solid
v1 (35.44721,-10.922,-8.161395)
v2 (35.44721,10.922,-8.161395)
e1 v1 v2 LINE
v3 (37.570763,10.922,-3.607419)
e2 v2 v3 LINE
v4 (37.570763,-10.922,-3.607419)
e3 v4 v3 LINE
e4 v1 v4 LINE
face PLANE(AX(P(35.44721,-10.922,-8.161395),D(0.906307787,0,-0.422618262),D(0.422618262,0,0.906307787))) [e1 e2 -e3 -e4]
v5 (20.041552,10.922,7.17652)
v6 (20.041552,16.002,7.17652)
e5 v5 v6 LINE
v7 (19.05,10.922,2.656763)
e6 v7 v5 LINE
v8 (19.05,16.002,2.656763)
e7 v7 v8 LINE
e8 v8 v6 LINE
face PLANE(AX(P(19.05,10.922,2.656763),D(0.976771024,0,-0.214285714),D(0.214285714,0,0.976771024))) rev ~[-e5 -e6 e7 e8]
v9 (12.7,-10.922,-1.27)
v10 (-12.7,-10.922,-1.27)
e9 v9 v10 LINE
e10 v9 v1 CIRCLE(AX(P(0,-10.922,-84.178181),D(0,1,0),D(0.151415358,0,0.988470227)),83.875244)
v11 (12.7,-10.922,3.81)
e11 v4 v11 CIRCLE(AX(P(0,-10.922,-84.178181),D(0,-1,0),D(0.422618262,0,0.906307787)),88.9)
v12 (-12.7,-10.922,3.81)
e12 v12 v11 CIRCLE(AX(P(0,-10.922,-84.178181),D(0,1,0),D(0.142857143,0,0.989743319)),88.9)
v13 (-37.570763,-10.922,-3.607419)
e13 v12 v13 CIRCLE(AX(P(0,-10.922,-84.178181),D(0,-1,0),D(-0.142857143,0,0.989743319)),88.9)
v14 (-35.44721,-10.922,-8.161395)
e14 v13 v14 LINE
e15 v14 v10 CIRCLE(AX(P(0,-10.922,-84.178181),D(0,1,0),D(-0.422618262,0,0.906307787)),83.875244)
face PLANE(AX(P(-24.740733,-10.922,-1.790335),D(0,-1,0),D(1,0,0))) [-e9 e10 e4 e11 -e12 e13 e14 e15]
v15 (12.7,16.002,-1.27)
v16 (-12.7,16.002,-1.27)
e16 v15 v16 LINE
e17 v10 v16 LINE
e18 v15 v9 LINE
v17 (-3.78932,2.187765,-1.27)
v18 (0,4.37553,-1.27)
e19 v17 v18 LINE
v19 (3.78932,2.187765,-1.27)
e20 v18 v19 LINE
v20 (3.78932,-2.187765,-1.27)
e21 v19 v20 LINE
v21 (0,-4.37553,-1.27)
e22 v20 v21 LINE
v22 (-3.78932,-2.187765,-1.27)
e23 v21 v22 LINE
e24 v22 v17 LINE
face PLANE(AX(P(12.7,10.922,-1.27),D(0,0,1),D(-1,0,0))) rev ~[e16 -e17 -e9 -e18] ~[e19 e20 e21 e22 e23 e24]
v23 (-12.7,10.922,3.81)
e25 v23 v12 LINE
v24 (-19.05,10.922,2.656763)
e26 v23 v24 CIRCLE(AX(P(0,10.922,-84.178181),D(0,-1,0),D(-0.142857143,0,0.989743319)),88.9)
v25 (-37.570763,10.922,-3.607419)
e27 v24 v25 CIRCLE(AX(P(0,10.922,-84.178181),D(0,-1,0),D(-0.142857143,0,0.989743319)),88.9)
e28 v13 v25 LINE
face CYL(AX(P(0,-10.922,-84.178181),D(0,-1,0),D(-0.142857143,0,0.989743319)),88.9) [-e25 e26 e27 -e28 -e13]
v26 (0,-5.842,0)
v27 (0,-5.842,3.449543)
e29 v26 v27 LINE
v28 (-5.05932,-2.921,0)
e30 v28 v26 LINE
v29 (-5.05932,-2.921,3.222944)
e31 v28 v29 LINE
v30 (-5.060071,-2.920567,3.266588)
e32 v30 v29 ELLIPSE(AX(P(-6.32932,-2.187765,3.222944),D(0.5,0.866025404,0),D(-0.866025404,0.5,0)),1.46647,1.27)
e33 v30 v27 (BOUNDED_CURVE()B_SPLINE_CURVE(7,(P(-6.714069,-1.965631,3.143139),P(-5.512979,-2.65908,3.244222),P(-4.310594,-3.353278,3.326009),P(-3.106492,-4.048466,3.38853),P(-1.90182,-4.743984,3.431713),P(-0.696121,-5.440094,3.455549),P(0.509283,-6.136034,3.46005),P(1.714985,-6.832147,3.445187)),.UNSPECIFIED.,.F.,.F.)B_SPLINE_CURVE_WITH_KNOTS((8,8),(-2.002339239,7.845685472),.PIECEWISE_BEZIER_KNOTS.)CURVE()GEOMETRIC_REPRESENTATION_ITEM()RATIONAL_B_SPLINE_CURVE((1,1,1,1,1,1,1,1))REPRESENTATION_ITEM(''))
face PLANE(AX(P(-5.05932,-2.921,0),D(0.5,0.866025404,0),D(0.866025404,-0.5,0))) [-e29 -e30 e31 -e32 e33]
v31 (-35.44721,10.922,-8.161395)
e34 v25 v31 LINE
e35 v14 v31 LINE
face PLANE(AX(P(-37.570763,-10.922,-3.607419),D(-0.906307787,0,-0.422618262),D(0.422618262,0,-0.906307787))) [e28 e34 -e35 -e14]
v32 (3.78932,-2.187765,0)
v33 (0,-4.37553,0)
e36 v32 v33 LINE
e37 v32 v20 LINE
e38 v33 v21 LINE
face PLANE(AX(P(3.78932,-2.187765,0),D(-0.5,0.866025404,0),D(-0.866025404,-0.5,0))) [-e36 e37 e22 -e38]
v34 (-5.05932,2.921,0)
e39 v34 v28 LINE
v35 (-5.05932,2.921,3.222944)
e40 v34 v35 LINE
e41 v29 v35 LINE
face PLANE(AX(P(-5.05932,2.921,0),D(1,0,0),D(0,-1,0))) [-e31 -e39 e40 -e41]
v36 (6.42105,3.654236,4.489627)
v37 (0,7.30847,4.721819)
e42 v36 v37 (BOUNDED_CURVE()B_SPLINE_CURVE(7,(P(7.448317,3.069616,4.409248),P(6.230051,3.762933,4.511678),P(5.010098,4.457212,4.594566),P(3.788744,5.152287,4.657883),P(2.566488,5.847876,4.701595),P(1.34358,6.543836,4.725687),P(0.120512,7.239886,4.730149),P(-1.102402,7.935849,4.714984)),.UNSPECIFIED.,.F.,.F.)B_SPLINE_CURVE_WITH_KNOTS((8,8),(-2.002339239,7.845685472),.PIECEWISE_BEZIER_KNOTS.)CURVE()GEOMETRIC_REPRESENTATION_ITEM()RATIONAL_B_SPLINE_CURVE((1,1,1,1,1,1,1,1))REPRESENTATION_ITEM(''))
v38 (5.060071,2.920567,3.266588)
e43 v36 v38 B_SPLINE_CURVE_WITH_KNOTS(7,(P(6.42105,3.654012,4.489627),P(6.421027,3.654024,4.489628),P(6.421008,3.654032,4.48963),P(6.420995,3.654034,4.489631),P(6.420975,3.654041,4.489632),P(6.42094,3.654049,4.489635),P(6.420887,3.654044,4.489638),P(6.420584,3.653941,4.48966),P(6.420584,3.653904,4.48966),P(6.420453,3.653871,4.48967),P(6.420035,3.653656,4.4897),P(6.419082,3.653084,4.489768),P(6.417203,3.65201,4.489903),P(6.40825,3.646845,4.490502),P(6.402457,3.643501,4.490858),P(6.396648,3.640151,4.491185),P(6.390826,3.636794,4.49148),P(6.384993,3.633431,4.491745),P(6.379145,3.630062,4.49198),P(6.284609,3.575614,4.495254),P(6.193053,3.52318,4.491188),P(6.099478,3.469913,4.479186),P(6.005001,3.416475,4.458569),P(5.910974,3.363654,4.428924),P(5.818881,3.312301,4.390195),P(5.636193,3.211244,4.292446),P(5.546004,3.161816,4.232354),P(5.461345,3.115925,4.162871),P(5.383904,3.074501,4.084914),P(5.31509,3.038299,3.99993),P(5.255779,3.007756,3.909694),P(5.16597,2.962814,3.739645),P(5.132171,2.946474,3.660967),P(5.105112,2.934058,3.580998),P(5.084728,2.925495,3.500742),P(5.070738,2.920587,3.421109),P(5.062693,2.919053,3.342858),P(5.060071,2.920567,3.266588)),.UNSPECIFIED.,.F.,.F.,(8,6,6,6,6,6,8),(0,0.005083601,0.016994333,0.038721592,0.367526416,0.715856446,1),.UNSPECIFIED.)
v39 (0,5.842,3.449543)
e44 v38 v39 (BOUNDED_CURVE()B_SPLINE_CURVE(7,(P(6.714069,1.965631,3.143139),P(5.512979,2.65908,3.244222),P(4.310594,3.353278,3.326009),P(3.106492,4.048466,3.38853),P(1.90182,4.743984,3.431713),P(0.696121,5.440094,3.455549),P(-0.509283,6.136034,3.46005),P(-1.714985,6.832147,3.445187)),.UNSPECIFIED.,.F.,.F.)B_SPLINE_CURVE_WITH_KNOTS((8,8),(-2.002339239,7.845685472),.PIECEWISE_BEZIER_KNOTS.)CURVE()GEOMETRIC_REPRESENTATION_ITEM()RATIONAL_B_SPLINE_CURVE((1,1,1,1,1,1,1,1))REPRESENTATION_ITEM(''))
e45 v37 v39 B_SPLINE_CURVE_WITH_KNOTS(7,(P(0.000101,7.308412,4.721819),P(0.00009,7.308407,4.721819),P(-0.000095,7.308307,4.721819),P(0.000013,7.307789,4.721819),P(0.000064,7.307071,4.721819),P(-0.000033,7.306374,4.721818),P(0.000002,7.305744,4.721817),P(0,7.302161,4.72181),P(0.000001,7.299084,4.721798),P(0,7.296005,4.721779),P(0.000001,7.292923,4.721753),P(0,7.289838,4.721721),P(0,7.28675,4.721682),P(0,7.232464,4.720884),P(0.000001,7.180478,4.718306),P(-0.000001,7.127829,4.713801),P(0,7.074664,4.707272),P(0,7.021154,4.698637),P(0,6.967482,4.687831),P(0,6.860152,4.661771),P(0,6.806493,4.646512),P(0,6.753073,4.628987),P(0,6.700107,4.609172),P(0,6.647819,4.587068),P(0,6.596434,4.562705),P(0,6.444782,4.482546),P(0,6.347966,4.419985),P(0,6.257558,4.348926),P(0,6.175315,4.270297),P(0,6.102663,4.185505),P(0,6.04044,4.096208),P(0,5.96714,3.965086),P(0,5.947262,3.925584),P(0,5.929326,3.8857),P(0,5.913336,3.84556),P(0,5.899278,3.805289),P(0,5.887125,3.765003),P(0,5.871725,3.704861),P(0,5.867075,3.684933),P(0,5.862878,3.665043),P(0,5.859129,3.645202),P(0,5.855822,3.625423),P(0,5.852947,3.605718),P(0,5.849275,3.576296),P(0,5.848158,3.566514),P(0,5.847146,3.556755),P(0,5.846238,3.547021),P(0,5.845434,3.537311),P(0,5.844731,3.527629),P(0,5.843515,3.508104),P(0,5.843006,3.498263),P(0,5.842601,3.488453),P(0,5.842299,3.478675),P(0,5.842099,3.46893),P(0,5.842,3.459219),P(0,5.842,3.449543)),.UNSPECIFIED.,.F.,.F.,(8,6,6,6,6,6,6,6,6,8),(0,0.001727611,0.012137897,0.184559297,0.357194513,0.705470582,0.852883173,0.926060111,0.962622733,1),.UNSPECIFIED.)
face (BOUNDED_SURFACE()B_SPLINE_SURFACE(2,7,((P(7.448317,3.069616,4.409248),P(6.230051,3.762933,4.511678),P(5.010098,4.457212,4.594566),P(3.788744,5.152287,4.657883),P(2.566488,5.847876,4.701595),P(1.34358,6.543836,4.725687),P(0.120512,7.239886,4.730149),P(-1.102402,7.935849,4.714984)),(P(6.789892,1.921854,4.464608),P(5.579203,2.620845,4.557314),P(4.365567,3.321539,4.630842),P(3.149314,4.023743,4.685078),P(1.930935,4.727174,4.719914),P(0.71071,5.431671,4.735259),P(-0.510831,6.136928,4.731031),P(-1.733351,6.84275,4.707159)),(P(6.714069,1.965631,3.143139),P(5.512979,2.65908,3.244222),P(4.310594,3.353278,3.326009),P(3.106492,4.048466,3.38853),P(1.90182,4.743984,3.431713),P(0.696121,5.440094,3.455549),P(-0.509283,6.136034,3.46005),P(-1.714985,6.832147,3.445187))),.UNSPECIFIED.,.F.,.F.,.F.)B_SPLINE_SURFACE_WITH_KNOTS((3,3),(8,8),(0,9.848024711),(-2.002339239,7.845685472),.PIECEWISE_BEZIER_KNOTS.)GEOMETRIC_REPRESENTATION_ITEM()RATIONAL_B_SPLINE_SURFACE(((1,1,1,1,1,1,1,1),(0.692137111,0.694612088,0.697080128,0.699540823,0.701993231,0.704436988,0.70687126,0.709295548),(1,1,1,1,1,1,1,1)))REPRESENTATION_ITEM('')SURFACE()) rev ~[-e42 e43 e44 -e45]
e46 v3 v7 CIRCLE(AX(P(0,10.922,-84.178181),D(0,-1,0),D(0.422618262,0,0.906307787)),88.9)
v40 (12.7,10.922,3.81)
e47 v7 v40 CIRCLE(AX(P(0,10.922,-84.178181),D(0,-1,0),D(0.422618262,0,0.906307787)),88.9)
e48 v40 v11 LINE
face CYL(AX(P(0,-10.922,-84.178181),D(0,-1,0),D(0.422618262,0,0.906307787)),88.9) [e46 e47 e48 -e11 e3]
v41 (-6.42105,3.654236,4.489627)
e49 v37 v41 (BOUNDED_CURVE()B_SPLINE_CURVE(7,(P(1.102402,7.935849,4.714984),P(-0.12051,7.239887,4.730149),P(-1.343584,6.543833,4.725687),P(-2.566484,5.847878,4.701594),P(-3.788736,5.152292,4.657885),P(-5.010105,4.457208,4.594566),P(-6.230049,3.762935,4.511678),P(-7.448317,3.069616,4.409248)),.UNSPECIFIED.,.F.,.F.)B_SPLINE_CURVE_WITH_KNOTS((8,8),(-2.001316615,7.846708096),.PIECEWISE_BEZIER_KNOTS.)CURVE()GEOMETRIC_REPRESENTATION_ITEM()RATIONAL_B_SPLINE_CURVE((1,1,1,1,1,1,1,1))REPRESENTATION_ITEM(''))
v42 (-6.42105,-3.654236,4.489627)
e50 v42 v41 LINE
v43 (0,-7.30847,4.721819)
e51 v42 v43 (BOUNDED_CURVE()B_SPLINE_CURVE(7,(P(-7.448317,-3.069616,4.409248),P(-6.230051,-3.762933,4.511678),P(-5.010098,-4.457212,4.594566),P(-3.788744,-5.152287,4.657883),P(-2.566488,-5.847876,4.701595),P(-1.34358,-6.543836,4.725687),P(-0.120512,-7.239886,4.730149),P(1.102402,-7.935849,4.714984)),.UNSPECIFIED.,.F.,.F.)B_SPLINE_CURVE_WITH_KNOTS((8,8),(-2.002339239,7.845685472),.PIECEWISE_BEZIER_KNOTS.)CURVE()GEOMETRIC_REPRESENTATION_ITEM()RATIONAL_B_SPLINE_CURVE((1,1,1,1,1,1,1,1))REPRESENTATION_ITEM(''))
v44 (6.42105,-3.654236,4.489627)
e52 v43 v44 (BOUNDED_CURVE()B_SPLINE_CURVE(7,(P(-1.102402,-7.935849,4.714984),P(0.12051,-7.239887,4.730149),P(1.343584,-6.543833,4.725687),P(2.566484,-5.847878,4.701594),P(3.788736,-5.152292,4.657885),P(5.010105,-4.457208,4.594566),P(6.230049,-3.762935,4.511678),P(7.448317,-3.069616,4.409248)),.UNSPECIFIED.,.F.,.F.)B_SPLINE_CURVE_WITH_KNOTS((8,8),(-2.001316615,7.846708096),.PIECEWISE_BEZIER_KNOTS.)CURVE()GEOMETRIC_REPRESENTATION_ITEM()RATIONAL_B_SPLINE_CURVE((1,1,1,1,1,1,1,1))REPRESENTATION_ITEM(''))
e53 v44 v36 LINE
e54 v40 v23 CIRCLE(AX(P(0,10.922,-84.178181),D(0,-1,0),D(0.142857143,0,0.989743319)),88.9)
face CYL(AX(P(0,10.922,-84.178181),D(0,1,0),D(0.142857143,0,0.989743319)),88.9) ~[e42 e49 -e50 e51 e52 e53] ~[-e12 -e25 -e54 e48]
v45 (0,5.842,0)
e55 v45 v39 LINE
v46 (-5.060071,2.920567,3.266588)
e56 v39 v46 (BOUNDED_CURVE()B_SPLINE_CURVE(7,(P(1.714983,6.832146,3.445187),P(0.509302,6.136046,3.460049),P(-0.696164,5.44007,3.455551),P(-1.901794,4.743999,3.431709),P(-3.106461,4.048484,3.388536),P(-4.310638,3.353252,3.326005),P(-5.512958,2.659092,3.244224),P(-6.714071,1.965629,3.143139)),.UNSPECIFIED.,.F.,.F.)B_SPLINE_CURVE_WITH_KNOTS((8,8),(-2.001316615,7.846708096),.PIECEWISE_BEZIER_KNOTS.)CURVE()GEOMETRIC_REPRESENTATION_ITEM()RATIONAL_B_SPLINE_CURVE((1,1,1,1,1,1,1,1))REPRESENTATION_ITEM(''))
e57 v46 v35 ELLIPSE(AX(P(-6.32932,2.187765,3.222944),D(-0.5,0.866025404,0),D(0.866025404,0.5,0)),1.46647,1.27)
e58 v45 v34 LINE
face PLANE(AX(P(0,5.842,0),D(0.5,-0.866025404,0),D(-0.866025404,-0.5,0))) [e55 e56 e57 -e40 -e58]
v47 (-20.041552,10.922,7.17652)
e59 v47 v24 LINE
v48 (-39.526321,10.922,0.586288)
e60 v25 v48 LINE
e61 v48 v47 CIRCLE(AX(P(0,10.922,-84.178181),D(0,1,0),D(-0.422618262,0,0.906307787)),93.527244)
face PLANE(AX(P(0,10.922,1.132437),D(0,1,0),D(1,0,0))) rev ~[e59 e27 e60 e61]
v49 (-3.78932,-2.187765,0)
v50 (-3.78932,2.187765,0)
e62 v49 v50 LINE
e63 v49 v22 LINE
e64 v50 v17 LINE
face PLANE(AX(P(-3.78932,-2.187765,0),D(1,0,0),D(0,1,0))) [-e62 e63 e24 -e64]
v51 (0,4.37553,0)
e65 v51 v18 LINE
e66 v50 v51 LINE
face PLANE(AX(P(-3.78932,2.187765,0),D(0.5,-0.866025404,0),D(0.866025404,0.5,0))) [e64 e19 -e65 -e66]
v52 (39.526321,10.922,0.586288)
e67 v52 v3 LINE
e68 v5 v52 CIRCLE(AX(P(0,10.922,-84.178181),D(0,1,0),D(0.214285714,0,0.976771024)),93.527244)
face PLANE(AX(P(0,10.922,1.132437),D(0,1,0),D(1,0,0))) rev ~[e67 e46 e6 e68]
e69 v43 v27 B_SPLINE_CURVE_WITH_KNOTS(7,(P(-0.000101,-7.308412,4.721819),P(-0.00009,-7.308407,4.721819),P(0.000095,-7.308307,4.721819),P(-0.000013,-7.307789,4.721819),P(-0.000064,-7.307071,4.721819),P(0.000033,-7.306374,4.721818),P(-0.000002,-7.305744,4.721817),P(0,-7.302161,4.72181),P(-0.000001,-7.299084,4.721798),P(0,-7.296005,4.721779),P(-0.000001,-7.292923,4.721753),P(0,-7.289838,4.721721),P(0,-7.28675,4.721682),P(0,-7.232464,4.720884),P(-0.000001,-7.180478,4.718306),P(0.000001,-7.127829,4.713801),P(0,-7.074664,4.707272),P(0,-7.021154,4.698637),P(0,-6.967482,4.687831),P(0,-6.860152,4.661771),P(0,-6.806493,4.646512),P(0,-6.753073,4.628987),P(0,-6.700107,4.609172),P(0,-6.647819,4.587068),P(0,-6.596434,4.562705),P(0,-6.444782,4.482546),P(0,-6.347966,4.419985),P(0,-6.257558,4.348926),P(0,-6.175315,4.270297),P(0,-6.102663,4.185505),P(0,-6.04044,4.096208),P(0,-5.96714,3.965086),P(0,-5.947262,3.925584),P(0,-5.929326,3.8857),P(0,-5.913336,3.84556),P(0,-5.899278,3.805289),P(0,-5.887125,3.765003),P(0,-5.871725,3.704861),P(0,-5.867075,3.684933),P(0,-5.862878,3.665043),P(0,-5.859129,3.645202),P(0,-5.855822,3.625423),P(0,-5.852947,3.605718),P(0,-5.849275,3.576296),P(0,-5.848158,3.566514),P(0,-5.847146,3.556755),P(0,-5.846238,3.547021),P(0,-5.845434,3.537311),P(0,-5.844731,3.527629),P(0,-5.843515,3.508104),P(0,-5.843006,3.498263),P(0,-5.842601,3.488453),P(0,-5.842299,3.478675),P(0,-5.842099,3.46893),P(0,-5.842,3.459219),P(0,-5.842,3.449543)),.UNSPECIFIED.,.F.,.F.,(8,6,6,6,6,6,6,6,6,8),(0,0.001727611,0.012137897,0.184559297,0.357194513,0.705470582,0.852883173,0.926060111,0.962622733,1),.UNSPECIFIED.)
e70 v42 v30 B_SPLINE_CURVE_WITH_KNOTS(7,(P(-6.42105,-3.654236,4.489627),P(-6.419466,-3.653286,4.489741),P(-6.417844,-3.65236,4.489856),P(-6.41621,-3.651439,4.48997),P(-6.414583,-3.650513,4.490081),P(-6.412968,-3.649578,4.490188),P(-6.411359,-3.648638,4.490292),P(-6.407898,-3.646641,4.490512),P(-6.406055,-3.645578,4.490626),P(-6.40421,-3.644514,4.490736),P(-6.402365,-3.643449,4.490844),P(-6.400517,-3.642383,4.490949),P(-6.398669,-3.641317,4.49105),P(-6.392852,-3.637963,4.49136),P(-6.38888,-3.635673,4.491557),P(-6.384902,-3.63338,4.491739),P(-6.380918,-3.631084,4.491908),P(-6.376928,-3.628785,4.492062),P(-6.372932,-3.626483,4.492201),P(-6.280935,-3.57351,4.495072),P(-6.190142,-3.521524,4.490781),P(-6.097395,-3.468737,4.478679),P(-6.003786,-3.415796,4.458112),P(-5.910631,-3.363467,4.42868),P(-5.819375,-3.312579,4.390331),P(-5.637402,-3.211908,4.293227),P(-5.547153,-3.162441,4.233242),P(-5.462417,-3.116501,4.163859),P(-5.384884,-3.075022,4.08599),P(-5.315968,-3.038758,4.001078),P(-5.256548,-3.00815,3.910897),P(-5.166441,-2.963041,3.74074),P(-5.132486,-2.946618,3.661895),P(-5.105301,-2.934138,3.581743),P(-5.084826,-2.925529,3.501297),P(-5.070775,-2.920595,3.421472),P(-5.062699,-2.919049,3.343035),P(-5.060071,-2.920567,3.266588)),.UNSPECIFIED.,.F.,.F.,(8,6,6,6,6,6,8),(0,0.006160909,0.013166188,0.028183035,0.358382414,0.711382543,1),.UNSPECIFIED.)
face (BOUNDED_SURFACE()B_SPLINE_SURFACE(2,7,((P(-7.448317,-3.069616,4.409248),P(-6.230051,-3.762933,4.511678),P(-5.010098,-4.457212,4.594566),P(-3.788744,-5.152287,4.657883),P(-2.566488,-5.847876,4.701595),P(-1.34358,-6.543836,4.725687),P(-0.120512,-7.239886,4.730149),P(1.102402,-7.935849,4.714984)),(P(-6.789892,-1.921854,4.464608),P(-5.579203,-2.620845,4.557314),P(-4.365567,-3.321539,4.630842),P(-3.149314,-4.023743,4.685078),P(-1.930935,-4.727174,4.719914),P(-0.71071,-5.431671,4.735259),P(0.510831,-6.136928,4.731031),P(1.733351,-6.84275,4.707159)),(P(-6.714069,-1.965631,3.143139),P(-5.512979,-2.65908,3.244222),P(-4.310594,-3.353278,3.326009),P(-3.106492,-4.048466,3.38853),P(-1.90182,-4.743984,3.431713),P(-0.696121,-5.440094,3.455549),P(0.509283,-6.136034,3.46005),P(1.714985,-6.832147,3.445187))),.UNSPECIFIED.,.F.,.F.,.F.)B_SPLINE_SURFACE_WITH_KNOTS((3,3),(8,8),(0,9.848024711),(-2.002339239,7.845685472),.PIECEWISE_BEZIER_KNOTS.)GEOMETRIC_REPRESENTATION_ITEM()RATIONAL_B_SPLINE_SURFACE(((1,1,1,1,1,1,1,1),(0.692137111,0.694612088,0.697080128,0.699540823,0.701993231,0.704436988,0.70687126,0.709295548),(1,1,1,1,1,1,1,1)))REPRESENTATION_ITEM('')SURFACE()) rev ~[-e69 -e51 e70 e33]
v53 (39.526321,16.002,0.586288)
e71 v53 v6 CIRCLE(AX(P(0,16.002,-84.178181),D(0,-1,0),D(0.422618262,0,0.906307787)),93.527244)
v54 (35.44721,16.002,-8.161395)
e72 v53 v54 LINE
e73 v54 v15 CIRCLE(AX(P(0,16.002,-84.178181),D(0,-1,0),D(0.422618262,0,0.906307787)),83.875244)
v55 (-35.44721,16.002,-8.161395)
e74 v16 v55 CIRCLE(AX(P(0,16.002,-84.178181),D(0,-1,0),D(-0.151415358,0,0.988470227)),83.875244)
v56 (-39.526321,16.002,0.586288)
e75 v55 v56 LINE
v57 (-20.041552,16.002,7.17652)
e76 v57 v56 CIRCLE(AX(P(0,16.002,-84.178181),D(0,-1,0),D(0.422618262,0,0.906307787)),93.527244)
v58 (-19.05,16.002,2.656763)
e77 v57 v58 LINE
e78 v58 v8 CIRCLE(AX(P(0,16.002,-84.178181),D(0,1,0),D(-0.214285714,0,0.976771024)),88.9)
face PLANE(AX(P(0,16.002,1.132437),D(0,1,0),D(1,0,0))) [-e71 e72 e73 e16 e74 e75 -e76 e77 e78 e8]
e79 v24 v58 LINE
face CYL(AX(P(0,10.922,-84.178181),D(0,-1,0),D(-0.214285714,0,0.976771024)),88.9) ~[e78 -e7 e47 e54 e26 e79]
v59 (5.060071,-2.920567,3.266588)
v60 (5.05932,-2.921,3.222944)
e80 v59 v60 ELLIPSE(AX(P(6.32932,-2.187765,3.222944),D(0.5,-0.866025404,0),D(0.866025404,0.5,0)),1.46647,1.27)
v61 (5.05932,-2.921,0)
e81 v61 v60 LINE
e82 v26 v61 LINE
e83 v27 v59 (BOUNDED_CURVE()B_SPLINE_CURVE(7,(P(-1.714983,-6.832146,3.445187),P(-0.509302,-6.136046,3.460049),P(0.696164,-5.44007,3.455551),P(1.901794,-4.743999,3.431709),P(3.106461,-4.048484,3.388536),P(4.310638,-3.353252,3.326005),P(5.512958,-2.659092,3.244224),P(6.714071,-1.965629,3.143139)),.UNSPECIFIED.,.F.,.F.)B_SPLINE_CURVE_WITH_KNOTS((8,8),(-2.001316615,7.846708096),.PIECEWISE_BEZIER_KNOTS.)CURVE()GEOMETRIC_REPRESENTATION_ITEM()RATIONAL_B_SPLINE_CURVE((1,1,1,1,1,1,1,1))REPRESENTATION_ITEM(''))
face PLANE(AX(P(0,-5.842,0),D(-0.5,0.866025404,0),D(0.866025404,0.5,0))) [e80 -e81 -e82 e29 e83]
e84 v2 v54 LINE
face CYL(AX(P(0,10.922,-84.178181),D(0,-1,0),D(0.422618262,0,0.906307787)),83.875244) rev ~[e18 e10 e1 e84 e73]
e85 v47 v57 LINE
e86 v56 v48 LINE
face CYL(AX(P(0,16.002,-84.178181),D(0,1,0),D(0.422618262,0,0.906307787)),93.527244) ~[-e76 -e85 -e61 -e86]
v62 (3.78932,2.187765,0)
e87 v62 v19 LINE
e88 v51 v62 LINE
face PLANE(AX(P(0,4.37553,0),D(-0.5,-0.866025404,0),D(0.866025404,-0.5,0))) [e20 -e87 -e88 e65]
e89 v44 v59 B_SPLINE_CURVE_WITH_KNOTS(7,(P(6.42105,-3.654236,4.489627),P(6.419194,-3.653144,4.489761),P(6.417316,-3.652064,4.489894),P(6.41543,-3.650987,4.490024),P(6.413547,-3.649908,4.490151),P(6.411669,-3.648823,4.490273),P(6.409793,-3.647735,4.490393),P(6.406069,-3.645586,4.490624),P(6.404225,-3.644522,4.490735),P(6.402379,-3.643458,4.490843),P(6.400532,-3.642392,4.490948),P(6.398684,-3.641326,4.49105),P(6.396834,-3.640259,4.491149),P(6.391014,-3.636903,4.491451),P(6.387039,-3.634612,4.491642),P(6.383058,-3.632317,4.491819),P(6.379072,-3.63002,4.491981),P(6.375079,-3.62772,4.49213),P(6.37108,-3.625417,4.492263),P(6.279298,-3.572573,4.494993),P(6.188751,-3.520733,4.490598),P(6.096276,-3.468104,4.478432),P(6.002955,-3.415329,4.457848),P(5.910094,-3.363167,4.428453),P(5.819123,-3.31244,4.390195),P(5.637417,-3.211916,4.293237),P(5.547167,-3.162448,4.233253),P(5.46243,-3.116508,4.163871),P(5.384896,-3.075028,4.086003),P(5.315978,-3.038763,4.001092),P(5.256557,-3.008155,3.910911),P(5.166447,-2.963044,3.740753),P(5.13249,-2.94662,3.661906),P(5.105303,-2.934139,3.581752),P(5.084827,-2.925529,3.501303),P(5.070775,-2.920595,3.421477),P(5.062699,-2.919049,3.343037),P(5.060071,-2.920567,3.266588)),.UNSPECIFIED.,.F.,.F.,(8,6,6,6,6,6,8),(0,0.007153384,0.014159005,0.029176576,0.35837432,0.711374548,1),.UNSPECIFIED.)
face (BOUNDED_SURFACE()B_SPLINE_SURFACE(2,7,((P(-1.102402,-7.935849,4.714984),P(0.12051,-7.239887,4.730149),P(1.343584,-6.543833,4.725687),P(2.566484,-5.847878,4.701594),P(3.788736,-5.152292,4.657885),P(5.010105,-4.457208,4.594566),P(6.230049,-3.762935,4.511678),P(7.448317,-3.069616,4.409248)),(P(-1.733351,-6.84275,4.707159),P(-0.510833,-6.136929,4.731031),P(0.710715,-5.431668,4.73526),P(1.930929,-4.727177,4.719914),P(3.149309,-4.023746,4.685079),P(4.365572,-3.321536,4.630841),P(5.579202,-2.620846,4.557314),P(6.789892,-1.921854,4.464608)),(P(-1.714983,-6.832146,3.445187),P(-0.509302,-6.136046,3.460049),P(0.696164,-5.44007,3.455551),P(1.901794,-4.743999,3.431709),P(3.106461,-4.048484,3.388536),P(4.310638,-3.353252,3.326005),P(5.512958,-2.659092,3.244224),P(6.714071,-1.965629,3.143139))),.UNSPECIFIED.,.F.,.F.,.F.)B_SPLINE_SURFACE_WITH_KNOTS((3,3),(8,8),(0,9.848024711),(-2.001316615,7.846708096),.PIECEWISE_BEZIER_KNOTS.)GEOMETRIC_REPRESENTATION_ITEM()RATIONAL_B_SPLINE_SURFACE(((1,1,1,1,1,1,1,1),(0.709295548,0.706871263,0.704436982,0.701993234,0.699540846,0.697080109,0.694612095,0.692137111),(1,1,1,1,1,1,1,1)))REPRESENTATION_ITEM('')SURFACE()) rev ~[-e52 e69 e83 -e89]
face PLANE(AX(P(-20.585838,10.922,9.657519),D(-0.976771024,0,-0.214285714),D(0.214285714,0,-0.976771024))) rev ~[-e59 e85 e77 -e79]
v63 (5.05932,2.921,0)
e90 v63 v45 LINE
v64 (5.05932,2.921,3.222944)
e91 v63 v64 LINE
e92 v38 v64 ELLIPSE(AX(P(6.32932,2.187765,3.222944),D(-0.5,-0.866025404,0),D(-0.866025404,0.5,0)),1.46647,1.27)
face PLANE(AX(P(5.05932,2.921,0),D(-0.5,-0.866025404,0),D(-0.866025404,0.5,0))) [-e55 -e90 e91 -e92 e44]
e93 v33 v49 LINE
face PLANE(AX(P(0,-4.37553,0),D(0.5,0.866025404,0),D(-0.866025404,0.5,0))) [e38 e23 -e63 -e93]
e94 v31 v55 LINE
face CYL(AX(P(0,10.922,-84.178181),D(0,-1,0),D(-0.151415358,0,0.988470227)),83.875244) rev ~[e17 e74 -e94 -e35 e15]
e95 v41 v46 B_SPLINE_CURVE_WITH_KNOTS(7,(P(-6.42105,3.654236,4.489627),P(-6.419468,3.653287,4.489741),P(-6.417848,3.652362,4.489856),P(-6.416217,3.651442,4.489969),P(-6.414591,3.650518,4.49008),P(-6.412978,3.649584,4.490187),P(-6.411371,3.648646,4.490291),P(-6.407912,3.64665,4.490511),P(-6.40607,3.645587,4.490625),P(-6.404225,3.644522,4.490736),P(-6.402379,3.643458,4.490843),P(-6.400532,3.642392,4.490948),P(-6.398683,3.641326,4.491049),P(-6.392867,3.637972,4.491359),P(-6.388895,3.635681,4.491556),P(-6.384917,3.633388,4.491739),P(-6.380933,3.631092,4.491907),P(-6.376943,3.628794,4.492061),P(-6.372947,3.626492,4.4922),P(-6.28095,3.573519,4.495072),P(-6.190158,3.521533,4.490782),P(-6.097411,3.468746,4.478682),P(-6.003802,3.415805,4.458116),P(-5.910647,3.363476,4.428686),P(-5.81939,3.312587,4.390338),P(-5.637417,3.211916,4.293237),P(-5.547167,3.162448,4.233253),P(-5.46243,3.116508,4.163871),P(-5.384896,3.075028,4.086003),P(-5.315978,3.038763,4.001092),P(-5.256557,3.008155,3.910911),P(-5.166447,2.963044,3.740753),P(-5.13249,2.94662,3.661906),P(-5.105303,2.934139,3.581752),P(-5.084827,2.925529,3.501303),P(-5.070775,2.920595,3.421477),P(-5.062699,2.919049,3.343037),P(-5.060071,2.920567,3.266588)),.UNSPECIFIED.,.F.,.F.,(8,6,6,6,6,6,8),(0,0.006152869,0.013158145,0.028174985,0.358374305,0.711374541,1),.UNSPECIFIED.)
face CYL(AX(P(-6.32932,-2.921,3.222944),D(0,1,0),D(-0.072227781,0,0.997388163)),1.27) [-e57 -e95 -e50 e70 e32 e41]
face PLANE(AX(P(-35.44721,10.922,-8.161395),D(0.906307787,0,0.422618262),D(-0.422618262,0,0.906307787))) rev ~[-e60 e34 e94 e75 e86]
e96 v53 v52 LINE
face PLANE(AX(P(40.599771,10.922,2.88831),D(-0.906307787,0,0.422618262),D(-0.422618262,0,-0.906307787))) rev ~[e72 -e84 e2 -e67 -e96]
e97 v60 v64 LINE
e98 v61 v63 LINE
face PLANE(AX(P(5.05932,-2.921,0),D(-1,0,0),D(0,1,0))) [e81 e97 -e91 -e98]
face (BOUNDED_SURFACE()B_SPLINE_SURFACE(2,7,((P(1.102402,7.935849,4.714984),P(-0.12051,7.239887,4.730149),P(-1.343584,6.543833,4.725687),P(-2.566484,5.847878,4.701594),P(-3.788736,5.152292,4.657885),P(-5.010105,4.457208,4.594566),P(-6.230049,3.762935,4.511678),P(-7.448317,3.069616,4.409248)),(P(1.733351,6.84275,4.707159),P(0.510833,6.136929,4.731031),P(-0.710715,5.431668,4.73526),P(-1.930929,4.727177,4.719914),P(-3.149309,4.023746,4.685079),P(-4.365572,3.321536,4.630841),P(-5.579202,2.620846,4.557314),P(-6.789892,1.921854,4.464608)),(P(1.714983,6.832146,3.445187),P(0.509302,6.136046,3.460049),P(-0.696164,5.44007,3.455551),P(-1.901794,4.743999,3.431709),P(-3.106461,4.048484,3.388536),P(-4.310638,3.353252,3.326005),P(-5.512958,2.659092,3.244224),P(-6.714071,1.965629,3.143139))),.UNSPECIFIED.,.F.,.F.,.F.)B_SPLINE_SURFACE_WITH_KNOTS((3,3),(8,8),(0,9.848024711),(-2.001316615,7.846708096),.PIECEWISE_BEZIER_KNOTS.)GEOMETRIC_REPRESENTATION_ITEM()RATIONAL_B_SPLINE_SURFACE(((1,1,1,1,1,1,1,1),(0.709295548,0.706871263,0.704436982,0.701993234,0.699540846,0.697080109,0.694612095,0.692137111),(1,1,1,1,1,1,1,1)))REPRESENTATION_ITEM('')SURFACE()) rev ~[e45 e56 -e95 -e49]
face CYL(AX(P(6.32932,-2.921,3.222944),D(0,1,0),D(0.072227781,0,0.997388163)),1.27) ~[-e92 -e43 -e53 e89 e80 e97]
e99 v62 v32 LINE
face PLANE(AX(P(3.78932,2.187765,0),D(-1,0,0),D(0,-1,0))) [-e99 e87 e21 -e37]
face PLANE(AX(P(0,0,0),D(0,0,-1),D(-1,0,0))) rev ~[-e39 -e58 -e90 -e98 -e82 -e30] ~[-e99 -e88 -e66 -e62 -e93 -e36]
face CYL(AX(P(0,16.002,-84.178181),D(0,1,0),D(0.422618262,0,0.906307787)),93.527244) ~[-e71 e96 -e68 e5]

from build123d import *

# Parameters (mm, degrees)
SKETCH1_W                    = 25.4
SKETCH1_H                    = 21.844
BOLT_SIZE_WIDTH_HEIGHT_DEPTH = 7.62
FRONT_CURVE_DEPTH            = 22.844
SKETCH3_W                    = 25.4
SKETCH3_H                    = 21.844
REAR_CAP_DEPTH               = 1.27
WINGS_DEPTH                  = 21.844
HOOK_DEPTH_DEPTH             = 5.08
HOOK_HEIGHT_DEPTH            = 3.81
NUT_FLANGE_CLEARANCE_R       = 1.27
DECORATION_SIZE              = 2.54
CUT_EXTRUDE1_DEPTH           = 27.9240001


with BuildPart() as part:
    # Sketch1 → Bolt Size, Width, &Height (new body)
    with BuildSketch(Plane.XY):
        Rectangle(SKETCH1_W, SKETCH1_H)
        Polygon((0, 5.842), (-5.059320409, 2.921), (-5.059320409, -2.921), (0, -5.842), (5.059320409, -2.921), (5.059320409, 2.921), align=None, mode=Mode.SUBTRACT)
    extrude(amount=BOLT_SIZE_WIDTH_HEIGHT_DEPTH)

    # Sketch2 → Front Curve (cut, through all)
    with BuildSketch(Plane(origin=(0, 10.922, 0), x_dir=(1, 0, 0), z_dir=(0, 1, 0))):
        with BuildLine():
            Line((12.7, -7.62), (12.7, -3.81))
            ThreePointArc((12.7, -3.81), (0, -4.721818976), (-12.7, -3.81))
            Line((-12.7, -3.81), (-12.7, -7.62))
            Line((-12.7, -7.62), (12.7, -7.62))
        make_face()
    extrude(amount=-FRONT_CURVE_DEPTH, mode=Mode.SUBTRACT)

    # Sketch3 → Rear Cap (add)
    with BuildSketch(Plane(origin=(0, 0, 0), x_dir=(-1, 0, 0), z_dir=(0, 0, -1))):
        Rectangle(SKETCH3_W, SKETCH3_H)
        Polygon((-3.789320409, 2.187765158), (-3.789320409, -2.187765158), (0, -4.375530316), (3.789320409, -2.187765158), (3.789320409, 2.187765158), (0, 4.375530316), align=None, mode=Mode.SUBTRACT)
    extrude(amount=REAR_CAP_DEPTH)

    # Sketch6 → Wings (add)
    with BuildSketch(Plane.XZ.offset(10.922)):
        with BuildLine():
            ThreePointArc((-12.7, 3.81), (-25.407517395, 1.013767303), (-37.570763469, -3.607418757))
            Line((-37.570763469, -3.607418757), (-35.447209633, -8.161394654))
            ThreePointArc((-35.447209633, -8.161394654), (-24.318948968, -3.905861998), (-12.7, -1.27))
            Line((-12.7, -1.27), (-12.7, 3.81))
        make_face()
        with BuildLine():
            ThreePointArc((37.570763469, -3.607418757), (25.407517395, 1.013767303), (12.7, 3.81))
            Line((12.7, 3.81), (12.7, -1.27))
            ThreePointArc((12.7, -1.27), (24.318948968, -3.905861998), (35.447209633, -8.161394654))
            Line((35.447209633, -8.161394654), (37.570763469, -3.607418757))
        make_face()
    extrude(amount=-WINGS_DEPTH)

    # Sketch7 → Hook Depth (add)
    with BuildSketch(Plane(origin=(0, 10.922, 0), x_dir=(1, 0, 0), z_dir=(0, 1, 0))):
        with BuildLine():
            Line((12.7, 1.27), (-12.7, 1.27))
            ThreePointArc((-12.7, 1.27), (-24.318948968, 3.905861998), (-35.447209633, 8.161394654))
            Line((-35.447209633, 8.161394654), (-40.59977148, -2.888309885))
            ThreePointArc((-40.59977148, -2.888309885), (-30.779461435, -6.824786165), (-20.585837904, -9.657518799))
            Line((-20.585837904, -9.657518799), (-19.05, -2.656762978))
            ThreePointArc((-19.05, -2.656762978), (0, -4.721818976), (19.05, -2.656762978))
            Line((19.05, -2.656762978), (20.585837904, -9.657518799))
            ThreePointArc((20.585837904, -9.657518799), (30.779461435, -6.824786165), (40.59977148, -2.888309885))
            Line((40.59977148, -2.888309885), (35.447209633, 8.161394654))
            ThreePointArc((35.447209633, 8.161394654), (24.318948968, 3.905861998), (12.7, 1.27))
        make_face()
    extrude(amount=HOOK_DEPTH_DEPTH)

    # Sketch8 → Hook Height (add)
    with BuildSketch(Plane.XZ.offset(-10.922)):
        with BuildLine():
            ThreePointArc((-20.585837904, 9.657518799), (-30.779461435, 6.824786165), (-40.59977148, 2.888309885))
            Line((-40.59977148, 2.888309885), (-39.526321095, 0.586288106))
            ThreePointArc((-39.526321095, 0.586288106), (-29.965658216, 4.418684687), (-20.04155219, 7.176520399))
            Line((-20.04155219, 7.176520399), (-20.585837904, 9.657518799))
        make_face()
        with BuildLine():
            Line((39.526321095, 0.586288106), (40.59977148, 2.888309885))
            ThreePointArc((40.59977148, 2.888309885), (30.779461435, 6.824786165), (20.585837904, 9.657518799))
            Line((20.585837904, 9.657518799), (20.04155219, 7.176520399))
            ThreePointArc((20.04155219, 7.176520399), (29.965658216, 4.418684687), (39.526321095, 0.586288106))
        make_face()
    extrude(amount=HOOK_HEIGHT_DEPTH)

    # Nut Flange Clearance
    nut_flange_clearance_edges = [part.edges().sort_by_distance(p)[0] for p in [
        (5.059320409, 0, 4.577738649),
        (2.530429584, 4.381055799, 4.685798889),
        (-2.530429584, 4.381055799, 4.685798889),
        (-5.059320409, 0, 4.577738649),
        (-2.530429584, -4.381055799, 4.685798889),
        (2.530429584, -4.381055799, 4.685798889),
    ]]
    fillet(nut_flange_clearance_edges, radius=NUT_FLANGE_CLEARANCE_R)

    # Decoration
    decoration_edges = [part.edges().sort_by_distance(p)[0] for p in [
        (-40.063046287, 7.112, 1.737298996),
        (-20.313695047, 7.112, 8.417019599),
        (40.063046287, 7.112, 1.737298996),
        (20.313695047, 7.112, 8.417019599),
    ]]
    chamfer(decoration_edges, length=DECORATION_SIZE)

    # Sketch9 → Cut-Extrude1 (cut, through all)
    with BuildSketch(Plane(origin=(0, 16.002, 0), x_dir=(1, 0, 0), z_dir=(0, 1, 0))):
        with BuildLine():
            Line((40.59977148, -2.888309885), (39.526321095, -0.586288106))
            ThreePointArc((39.526321095, -0.586288106), (0, -9.349062527), (-39.526321095, -0.586288106))
            Line((-39.526321095, -0.586288106), (-40.59977148, -2.888309885))
            ThreePointArc((-40.59977148, -2.888309885), (0, -11.889062527), (40.59977148, -2.888309885))
        make_face()
    extrude(amount=-CUT_EXTRUDE1_DEPTH, mode=Mode.SUBTRACT)


solid = part.part
